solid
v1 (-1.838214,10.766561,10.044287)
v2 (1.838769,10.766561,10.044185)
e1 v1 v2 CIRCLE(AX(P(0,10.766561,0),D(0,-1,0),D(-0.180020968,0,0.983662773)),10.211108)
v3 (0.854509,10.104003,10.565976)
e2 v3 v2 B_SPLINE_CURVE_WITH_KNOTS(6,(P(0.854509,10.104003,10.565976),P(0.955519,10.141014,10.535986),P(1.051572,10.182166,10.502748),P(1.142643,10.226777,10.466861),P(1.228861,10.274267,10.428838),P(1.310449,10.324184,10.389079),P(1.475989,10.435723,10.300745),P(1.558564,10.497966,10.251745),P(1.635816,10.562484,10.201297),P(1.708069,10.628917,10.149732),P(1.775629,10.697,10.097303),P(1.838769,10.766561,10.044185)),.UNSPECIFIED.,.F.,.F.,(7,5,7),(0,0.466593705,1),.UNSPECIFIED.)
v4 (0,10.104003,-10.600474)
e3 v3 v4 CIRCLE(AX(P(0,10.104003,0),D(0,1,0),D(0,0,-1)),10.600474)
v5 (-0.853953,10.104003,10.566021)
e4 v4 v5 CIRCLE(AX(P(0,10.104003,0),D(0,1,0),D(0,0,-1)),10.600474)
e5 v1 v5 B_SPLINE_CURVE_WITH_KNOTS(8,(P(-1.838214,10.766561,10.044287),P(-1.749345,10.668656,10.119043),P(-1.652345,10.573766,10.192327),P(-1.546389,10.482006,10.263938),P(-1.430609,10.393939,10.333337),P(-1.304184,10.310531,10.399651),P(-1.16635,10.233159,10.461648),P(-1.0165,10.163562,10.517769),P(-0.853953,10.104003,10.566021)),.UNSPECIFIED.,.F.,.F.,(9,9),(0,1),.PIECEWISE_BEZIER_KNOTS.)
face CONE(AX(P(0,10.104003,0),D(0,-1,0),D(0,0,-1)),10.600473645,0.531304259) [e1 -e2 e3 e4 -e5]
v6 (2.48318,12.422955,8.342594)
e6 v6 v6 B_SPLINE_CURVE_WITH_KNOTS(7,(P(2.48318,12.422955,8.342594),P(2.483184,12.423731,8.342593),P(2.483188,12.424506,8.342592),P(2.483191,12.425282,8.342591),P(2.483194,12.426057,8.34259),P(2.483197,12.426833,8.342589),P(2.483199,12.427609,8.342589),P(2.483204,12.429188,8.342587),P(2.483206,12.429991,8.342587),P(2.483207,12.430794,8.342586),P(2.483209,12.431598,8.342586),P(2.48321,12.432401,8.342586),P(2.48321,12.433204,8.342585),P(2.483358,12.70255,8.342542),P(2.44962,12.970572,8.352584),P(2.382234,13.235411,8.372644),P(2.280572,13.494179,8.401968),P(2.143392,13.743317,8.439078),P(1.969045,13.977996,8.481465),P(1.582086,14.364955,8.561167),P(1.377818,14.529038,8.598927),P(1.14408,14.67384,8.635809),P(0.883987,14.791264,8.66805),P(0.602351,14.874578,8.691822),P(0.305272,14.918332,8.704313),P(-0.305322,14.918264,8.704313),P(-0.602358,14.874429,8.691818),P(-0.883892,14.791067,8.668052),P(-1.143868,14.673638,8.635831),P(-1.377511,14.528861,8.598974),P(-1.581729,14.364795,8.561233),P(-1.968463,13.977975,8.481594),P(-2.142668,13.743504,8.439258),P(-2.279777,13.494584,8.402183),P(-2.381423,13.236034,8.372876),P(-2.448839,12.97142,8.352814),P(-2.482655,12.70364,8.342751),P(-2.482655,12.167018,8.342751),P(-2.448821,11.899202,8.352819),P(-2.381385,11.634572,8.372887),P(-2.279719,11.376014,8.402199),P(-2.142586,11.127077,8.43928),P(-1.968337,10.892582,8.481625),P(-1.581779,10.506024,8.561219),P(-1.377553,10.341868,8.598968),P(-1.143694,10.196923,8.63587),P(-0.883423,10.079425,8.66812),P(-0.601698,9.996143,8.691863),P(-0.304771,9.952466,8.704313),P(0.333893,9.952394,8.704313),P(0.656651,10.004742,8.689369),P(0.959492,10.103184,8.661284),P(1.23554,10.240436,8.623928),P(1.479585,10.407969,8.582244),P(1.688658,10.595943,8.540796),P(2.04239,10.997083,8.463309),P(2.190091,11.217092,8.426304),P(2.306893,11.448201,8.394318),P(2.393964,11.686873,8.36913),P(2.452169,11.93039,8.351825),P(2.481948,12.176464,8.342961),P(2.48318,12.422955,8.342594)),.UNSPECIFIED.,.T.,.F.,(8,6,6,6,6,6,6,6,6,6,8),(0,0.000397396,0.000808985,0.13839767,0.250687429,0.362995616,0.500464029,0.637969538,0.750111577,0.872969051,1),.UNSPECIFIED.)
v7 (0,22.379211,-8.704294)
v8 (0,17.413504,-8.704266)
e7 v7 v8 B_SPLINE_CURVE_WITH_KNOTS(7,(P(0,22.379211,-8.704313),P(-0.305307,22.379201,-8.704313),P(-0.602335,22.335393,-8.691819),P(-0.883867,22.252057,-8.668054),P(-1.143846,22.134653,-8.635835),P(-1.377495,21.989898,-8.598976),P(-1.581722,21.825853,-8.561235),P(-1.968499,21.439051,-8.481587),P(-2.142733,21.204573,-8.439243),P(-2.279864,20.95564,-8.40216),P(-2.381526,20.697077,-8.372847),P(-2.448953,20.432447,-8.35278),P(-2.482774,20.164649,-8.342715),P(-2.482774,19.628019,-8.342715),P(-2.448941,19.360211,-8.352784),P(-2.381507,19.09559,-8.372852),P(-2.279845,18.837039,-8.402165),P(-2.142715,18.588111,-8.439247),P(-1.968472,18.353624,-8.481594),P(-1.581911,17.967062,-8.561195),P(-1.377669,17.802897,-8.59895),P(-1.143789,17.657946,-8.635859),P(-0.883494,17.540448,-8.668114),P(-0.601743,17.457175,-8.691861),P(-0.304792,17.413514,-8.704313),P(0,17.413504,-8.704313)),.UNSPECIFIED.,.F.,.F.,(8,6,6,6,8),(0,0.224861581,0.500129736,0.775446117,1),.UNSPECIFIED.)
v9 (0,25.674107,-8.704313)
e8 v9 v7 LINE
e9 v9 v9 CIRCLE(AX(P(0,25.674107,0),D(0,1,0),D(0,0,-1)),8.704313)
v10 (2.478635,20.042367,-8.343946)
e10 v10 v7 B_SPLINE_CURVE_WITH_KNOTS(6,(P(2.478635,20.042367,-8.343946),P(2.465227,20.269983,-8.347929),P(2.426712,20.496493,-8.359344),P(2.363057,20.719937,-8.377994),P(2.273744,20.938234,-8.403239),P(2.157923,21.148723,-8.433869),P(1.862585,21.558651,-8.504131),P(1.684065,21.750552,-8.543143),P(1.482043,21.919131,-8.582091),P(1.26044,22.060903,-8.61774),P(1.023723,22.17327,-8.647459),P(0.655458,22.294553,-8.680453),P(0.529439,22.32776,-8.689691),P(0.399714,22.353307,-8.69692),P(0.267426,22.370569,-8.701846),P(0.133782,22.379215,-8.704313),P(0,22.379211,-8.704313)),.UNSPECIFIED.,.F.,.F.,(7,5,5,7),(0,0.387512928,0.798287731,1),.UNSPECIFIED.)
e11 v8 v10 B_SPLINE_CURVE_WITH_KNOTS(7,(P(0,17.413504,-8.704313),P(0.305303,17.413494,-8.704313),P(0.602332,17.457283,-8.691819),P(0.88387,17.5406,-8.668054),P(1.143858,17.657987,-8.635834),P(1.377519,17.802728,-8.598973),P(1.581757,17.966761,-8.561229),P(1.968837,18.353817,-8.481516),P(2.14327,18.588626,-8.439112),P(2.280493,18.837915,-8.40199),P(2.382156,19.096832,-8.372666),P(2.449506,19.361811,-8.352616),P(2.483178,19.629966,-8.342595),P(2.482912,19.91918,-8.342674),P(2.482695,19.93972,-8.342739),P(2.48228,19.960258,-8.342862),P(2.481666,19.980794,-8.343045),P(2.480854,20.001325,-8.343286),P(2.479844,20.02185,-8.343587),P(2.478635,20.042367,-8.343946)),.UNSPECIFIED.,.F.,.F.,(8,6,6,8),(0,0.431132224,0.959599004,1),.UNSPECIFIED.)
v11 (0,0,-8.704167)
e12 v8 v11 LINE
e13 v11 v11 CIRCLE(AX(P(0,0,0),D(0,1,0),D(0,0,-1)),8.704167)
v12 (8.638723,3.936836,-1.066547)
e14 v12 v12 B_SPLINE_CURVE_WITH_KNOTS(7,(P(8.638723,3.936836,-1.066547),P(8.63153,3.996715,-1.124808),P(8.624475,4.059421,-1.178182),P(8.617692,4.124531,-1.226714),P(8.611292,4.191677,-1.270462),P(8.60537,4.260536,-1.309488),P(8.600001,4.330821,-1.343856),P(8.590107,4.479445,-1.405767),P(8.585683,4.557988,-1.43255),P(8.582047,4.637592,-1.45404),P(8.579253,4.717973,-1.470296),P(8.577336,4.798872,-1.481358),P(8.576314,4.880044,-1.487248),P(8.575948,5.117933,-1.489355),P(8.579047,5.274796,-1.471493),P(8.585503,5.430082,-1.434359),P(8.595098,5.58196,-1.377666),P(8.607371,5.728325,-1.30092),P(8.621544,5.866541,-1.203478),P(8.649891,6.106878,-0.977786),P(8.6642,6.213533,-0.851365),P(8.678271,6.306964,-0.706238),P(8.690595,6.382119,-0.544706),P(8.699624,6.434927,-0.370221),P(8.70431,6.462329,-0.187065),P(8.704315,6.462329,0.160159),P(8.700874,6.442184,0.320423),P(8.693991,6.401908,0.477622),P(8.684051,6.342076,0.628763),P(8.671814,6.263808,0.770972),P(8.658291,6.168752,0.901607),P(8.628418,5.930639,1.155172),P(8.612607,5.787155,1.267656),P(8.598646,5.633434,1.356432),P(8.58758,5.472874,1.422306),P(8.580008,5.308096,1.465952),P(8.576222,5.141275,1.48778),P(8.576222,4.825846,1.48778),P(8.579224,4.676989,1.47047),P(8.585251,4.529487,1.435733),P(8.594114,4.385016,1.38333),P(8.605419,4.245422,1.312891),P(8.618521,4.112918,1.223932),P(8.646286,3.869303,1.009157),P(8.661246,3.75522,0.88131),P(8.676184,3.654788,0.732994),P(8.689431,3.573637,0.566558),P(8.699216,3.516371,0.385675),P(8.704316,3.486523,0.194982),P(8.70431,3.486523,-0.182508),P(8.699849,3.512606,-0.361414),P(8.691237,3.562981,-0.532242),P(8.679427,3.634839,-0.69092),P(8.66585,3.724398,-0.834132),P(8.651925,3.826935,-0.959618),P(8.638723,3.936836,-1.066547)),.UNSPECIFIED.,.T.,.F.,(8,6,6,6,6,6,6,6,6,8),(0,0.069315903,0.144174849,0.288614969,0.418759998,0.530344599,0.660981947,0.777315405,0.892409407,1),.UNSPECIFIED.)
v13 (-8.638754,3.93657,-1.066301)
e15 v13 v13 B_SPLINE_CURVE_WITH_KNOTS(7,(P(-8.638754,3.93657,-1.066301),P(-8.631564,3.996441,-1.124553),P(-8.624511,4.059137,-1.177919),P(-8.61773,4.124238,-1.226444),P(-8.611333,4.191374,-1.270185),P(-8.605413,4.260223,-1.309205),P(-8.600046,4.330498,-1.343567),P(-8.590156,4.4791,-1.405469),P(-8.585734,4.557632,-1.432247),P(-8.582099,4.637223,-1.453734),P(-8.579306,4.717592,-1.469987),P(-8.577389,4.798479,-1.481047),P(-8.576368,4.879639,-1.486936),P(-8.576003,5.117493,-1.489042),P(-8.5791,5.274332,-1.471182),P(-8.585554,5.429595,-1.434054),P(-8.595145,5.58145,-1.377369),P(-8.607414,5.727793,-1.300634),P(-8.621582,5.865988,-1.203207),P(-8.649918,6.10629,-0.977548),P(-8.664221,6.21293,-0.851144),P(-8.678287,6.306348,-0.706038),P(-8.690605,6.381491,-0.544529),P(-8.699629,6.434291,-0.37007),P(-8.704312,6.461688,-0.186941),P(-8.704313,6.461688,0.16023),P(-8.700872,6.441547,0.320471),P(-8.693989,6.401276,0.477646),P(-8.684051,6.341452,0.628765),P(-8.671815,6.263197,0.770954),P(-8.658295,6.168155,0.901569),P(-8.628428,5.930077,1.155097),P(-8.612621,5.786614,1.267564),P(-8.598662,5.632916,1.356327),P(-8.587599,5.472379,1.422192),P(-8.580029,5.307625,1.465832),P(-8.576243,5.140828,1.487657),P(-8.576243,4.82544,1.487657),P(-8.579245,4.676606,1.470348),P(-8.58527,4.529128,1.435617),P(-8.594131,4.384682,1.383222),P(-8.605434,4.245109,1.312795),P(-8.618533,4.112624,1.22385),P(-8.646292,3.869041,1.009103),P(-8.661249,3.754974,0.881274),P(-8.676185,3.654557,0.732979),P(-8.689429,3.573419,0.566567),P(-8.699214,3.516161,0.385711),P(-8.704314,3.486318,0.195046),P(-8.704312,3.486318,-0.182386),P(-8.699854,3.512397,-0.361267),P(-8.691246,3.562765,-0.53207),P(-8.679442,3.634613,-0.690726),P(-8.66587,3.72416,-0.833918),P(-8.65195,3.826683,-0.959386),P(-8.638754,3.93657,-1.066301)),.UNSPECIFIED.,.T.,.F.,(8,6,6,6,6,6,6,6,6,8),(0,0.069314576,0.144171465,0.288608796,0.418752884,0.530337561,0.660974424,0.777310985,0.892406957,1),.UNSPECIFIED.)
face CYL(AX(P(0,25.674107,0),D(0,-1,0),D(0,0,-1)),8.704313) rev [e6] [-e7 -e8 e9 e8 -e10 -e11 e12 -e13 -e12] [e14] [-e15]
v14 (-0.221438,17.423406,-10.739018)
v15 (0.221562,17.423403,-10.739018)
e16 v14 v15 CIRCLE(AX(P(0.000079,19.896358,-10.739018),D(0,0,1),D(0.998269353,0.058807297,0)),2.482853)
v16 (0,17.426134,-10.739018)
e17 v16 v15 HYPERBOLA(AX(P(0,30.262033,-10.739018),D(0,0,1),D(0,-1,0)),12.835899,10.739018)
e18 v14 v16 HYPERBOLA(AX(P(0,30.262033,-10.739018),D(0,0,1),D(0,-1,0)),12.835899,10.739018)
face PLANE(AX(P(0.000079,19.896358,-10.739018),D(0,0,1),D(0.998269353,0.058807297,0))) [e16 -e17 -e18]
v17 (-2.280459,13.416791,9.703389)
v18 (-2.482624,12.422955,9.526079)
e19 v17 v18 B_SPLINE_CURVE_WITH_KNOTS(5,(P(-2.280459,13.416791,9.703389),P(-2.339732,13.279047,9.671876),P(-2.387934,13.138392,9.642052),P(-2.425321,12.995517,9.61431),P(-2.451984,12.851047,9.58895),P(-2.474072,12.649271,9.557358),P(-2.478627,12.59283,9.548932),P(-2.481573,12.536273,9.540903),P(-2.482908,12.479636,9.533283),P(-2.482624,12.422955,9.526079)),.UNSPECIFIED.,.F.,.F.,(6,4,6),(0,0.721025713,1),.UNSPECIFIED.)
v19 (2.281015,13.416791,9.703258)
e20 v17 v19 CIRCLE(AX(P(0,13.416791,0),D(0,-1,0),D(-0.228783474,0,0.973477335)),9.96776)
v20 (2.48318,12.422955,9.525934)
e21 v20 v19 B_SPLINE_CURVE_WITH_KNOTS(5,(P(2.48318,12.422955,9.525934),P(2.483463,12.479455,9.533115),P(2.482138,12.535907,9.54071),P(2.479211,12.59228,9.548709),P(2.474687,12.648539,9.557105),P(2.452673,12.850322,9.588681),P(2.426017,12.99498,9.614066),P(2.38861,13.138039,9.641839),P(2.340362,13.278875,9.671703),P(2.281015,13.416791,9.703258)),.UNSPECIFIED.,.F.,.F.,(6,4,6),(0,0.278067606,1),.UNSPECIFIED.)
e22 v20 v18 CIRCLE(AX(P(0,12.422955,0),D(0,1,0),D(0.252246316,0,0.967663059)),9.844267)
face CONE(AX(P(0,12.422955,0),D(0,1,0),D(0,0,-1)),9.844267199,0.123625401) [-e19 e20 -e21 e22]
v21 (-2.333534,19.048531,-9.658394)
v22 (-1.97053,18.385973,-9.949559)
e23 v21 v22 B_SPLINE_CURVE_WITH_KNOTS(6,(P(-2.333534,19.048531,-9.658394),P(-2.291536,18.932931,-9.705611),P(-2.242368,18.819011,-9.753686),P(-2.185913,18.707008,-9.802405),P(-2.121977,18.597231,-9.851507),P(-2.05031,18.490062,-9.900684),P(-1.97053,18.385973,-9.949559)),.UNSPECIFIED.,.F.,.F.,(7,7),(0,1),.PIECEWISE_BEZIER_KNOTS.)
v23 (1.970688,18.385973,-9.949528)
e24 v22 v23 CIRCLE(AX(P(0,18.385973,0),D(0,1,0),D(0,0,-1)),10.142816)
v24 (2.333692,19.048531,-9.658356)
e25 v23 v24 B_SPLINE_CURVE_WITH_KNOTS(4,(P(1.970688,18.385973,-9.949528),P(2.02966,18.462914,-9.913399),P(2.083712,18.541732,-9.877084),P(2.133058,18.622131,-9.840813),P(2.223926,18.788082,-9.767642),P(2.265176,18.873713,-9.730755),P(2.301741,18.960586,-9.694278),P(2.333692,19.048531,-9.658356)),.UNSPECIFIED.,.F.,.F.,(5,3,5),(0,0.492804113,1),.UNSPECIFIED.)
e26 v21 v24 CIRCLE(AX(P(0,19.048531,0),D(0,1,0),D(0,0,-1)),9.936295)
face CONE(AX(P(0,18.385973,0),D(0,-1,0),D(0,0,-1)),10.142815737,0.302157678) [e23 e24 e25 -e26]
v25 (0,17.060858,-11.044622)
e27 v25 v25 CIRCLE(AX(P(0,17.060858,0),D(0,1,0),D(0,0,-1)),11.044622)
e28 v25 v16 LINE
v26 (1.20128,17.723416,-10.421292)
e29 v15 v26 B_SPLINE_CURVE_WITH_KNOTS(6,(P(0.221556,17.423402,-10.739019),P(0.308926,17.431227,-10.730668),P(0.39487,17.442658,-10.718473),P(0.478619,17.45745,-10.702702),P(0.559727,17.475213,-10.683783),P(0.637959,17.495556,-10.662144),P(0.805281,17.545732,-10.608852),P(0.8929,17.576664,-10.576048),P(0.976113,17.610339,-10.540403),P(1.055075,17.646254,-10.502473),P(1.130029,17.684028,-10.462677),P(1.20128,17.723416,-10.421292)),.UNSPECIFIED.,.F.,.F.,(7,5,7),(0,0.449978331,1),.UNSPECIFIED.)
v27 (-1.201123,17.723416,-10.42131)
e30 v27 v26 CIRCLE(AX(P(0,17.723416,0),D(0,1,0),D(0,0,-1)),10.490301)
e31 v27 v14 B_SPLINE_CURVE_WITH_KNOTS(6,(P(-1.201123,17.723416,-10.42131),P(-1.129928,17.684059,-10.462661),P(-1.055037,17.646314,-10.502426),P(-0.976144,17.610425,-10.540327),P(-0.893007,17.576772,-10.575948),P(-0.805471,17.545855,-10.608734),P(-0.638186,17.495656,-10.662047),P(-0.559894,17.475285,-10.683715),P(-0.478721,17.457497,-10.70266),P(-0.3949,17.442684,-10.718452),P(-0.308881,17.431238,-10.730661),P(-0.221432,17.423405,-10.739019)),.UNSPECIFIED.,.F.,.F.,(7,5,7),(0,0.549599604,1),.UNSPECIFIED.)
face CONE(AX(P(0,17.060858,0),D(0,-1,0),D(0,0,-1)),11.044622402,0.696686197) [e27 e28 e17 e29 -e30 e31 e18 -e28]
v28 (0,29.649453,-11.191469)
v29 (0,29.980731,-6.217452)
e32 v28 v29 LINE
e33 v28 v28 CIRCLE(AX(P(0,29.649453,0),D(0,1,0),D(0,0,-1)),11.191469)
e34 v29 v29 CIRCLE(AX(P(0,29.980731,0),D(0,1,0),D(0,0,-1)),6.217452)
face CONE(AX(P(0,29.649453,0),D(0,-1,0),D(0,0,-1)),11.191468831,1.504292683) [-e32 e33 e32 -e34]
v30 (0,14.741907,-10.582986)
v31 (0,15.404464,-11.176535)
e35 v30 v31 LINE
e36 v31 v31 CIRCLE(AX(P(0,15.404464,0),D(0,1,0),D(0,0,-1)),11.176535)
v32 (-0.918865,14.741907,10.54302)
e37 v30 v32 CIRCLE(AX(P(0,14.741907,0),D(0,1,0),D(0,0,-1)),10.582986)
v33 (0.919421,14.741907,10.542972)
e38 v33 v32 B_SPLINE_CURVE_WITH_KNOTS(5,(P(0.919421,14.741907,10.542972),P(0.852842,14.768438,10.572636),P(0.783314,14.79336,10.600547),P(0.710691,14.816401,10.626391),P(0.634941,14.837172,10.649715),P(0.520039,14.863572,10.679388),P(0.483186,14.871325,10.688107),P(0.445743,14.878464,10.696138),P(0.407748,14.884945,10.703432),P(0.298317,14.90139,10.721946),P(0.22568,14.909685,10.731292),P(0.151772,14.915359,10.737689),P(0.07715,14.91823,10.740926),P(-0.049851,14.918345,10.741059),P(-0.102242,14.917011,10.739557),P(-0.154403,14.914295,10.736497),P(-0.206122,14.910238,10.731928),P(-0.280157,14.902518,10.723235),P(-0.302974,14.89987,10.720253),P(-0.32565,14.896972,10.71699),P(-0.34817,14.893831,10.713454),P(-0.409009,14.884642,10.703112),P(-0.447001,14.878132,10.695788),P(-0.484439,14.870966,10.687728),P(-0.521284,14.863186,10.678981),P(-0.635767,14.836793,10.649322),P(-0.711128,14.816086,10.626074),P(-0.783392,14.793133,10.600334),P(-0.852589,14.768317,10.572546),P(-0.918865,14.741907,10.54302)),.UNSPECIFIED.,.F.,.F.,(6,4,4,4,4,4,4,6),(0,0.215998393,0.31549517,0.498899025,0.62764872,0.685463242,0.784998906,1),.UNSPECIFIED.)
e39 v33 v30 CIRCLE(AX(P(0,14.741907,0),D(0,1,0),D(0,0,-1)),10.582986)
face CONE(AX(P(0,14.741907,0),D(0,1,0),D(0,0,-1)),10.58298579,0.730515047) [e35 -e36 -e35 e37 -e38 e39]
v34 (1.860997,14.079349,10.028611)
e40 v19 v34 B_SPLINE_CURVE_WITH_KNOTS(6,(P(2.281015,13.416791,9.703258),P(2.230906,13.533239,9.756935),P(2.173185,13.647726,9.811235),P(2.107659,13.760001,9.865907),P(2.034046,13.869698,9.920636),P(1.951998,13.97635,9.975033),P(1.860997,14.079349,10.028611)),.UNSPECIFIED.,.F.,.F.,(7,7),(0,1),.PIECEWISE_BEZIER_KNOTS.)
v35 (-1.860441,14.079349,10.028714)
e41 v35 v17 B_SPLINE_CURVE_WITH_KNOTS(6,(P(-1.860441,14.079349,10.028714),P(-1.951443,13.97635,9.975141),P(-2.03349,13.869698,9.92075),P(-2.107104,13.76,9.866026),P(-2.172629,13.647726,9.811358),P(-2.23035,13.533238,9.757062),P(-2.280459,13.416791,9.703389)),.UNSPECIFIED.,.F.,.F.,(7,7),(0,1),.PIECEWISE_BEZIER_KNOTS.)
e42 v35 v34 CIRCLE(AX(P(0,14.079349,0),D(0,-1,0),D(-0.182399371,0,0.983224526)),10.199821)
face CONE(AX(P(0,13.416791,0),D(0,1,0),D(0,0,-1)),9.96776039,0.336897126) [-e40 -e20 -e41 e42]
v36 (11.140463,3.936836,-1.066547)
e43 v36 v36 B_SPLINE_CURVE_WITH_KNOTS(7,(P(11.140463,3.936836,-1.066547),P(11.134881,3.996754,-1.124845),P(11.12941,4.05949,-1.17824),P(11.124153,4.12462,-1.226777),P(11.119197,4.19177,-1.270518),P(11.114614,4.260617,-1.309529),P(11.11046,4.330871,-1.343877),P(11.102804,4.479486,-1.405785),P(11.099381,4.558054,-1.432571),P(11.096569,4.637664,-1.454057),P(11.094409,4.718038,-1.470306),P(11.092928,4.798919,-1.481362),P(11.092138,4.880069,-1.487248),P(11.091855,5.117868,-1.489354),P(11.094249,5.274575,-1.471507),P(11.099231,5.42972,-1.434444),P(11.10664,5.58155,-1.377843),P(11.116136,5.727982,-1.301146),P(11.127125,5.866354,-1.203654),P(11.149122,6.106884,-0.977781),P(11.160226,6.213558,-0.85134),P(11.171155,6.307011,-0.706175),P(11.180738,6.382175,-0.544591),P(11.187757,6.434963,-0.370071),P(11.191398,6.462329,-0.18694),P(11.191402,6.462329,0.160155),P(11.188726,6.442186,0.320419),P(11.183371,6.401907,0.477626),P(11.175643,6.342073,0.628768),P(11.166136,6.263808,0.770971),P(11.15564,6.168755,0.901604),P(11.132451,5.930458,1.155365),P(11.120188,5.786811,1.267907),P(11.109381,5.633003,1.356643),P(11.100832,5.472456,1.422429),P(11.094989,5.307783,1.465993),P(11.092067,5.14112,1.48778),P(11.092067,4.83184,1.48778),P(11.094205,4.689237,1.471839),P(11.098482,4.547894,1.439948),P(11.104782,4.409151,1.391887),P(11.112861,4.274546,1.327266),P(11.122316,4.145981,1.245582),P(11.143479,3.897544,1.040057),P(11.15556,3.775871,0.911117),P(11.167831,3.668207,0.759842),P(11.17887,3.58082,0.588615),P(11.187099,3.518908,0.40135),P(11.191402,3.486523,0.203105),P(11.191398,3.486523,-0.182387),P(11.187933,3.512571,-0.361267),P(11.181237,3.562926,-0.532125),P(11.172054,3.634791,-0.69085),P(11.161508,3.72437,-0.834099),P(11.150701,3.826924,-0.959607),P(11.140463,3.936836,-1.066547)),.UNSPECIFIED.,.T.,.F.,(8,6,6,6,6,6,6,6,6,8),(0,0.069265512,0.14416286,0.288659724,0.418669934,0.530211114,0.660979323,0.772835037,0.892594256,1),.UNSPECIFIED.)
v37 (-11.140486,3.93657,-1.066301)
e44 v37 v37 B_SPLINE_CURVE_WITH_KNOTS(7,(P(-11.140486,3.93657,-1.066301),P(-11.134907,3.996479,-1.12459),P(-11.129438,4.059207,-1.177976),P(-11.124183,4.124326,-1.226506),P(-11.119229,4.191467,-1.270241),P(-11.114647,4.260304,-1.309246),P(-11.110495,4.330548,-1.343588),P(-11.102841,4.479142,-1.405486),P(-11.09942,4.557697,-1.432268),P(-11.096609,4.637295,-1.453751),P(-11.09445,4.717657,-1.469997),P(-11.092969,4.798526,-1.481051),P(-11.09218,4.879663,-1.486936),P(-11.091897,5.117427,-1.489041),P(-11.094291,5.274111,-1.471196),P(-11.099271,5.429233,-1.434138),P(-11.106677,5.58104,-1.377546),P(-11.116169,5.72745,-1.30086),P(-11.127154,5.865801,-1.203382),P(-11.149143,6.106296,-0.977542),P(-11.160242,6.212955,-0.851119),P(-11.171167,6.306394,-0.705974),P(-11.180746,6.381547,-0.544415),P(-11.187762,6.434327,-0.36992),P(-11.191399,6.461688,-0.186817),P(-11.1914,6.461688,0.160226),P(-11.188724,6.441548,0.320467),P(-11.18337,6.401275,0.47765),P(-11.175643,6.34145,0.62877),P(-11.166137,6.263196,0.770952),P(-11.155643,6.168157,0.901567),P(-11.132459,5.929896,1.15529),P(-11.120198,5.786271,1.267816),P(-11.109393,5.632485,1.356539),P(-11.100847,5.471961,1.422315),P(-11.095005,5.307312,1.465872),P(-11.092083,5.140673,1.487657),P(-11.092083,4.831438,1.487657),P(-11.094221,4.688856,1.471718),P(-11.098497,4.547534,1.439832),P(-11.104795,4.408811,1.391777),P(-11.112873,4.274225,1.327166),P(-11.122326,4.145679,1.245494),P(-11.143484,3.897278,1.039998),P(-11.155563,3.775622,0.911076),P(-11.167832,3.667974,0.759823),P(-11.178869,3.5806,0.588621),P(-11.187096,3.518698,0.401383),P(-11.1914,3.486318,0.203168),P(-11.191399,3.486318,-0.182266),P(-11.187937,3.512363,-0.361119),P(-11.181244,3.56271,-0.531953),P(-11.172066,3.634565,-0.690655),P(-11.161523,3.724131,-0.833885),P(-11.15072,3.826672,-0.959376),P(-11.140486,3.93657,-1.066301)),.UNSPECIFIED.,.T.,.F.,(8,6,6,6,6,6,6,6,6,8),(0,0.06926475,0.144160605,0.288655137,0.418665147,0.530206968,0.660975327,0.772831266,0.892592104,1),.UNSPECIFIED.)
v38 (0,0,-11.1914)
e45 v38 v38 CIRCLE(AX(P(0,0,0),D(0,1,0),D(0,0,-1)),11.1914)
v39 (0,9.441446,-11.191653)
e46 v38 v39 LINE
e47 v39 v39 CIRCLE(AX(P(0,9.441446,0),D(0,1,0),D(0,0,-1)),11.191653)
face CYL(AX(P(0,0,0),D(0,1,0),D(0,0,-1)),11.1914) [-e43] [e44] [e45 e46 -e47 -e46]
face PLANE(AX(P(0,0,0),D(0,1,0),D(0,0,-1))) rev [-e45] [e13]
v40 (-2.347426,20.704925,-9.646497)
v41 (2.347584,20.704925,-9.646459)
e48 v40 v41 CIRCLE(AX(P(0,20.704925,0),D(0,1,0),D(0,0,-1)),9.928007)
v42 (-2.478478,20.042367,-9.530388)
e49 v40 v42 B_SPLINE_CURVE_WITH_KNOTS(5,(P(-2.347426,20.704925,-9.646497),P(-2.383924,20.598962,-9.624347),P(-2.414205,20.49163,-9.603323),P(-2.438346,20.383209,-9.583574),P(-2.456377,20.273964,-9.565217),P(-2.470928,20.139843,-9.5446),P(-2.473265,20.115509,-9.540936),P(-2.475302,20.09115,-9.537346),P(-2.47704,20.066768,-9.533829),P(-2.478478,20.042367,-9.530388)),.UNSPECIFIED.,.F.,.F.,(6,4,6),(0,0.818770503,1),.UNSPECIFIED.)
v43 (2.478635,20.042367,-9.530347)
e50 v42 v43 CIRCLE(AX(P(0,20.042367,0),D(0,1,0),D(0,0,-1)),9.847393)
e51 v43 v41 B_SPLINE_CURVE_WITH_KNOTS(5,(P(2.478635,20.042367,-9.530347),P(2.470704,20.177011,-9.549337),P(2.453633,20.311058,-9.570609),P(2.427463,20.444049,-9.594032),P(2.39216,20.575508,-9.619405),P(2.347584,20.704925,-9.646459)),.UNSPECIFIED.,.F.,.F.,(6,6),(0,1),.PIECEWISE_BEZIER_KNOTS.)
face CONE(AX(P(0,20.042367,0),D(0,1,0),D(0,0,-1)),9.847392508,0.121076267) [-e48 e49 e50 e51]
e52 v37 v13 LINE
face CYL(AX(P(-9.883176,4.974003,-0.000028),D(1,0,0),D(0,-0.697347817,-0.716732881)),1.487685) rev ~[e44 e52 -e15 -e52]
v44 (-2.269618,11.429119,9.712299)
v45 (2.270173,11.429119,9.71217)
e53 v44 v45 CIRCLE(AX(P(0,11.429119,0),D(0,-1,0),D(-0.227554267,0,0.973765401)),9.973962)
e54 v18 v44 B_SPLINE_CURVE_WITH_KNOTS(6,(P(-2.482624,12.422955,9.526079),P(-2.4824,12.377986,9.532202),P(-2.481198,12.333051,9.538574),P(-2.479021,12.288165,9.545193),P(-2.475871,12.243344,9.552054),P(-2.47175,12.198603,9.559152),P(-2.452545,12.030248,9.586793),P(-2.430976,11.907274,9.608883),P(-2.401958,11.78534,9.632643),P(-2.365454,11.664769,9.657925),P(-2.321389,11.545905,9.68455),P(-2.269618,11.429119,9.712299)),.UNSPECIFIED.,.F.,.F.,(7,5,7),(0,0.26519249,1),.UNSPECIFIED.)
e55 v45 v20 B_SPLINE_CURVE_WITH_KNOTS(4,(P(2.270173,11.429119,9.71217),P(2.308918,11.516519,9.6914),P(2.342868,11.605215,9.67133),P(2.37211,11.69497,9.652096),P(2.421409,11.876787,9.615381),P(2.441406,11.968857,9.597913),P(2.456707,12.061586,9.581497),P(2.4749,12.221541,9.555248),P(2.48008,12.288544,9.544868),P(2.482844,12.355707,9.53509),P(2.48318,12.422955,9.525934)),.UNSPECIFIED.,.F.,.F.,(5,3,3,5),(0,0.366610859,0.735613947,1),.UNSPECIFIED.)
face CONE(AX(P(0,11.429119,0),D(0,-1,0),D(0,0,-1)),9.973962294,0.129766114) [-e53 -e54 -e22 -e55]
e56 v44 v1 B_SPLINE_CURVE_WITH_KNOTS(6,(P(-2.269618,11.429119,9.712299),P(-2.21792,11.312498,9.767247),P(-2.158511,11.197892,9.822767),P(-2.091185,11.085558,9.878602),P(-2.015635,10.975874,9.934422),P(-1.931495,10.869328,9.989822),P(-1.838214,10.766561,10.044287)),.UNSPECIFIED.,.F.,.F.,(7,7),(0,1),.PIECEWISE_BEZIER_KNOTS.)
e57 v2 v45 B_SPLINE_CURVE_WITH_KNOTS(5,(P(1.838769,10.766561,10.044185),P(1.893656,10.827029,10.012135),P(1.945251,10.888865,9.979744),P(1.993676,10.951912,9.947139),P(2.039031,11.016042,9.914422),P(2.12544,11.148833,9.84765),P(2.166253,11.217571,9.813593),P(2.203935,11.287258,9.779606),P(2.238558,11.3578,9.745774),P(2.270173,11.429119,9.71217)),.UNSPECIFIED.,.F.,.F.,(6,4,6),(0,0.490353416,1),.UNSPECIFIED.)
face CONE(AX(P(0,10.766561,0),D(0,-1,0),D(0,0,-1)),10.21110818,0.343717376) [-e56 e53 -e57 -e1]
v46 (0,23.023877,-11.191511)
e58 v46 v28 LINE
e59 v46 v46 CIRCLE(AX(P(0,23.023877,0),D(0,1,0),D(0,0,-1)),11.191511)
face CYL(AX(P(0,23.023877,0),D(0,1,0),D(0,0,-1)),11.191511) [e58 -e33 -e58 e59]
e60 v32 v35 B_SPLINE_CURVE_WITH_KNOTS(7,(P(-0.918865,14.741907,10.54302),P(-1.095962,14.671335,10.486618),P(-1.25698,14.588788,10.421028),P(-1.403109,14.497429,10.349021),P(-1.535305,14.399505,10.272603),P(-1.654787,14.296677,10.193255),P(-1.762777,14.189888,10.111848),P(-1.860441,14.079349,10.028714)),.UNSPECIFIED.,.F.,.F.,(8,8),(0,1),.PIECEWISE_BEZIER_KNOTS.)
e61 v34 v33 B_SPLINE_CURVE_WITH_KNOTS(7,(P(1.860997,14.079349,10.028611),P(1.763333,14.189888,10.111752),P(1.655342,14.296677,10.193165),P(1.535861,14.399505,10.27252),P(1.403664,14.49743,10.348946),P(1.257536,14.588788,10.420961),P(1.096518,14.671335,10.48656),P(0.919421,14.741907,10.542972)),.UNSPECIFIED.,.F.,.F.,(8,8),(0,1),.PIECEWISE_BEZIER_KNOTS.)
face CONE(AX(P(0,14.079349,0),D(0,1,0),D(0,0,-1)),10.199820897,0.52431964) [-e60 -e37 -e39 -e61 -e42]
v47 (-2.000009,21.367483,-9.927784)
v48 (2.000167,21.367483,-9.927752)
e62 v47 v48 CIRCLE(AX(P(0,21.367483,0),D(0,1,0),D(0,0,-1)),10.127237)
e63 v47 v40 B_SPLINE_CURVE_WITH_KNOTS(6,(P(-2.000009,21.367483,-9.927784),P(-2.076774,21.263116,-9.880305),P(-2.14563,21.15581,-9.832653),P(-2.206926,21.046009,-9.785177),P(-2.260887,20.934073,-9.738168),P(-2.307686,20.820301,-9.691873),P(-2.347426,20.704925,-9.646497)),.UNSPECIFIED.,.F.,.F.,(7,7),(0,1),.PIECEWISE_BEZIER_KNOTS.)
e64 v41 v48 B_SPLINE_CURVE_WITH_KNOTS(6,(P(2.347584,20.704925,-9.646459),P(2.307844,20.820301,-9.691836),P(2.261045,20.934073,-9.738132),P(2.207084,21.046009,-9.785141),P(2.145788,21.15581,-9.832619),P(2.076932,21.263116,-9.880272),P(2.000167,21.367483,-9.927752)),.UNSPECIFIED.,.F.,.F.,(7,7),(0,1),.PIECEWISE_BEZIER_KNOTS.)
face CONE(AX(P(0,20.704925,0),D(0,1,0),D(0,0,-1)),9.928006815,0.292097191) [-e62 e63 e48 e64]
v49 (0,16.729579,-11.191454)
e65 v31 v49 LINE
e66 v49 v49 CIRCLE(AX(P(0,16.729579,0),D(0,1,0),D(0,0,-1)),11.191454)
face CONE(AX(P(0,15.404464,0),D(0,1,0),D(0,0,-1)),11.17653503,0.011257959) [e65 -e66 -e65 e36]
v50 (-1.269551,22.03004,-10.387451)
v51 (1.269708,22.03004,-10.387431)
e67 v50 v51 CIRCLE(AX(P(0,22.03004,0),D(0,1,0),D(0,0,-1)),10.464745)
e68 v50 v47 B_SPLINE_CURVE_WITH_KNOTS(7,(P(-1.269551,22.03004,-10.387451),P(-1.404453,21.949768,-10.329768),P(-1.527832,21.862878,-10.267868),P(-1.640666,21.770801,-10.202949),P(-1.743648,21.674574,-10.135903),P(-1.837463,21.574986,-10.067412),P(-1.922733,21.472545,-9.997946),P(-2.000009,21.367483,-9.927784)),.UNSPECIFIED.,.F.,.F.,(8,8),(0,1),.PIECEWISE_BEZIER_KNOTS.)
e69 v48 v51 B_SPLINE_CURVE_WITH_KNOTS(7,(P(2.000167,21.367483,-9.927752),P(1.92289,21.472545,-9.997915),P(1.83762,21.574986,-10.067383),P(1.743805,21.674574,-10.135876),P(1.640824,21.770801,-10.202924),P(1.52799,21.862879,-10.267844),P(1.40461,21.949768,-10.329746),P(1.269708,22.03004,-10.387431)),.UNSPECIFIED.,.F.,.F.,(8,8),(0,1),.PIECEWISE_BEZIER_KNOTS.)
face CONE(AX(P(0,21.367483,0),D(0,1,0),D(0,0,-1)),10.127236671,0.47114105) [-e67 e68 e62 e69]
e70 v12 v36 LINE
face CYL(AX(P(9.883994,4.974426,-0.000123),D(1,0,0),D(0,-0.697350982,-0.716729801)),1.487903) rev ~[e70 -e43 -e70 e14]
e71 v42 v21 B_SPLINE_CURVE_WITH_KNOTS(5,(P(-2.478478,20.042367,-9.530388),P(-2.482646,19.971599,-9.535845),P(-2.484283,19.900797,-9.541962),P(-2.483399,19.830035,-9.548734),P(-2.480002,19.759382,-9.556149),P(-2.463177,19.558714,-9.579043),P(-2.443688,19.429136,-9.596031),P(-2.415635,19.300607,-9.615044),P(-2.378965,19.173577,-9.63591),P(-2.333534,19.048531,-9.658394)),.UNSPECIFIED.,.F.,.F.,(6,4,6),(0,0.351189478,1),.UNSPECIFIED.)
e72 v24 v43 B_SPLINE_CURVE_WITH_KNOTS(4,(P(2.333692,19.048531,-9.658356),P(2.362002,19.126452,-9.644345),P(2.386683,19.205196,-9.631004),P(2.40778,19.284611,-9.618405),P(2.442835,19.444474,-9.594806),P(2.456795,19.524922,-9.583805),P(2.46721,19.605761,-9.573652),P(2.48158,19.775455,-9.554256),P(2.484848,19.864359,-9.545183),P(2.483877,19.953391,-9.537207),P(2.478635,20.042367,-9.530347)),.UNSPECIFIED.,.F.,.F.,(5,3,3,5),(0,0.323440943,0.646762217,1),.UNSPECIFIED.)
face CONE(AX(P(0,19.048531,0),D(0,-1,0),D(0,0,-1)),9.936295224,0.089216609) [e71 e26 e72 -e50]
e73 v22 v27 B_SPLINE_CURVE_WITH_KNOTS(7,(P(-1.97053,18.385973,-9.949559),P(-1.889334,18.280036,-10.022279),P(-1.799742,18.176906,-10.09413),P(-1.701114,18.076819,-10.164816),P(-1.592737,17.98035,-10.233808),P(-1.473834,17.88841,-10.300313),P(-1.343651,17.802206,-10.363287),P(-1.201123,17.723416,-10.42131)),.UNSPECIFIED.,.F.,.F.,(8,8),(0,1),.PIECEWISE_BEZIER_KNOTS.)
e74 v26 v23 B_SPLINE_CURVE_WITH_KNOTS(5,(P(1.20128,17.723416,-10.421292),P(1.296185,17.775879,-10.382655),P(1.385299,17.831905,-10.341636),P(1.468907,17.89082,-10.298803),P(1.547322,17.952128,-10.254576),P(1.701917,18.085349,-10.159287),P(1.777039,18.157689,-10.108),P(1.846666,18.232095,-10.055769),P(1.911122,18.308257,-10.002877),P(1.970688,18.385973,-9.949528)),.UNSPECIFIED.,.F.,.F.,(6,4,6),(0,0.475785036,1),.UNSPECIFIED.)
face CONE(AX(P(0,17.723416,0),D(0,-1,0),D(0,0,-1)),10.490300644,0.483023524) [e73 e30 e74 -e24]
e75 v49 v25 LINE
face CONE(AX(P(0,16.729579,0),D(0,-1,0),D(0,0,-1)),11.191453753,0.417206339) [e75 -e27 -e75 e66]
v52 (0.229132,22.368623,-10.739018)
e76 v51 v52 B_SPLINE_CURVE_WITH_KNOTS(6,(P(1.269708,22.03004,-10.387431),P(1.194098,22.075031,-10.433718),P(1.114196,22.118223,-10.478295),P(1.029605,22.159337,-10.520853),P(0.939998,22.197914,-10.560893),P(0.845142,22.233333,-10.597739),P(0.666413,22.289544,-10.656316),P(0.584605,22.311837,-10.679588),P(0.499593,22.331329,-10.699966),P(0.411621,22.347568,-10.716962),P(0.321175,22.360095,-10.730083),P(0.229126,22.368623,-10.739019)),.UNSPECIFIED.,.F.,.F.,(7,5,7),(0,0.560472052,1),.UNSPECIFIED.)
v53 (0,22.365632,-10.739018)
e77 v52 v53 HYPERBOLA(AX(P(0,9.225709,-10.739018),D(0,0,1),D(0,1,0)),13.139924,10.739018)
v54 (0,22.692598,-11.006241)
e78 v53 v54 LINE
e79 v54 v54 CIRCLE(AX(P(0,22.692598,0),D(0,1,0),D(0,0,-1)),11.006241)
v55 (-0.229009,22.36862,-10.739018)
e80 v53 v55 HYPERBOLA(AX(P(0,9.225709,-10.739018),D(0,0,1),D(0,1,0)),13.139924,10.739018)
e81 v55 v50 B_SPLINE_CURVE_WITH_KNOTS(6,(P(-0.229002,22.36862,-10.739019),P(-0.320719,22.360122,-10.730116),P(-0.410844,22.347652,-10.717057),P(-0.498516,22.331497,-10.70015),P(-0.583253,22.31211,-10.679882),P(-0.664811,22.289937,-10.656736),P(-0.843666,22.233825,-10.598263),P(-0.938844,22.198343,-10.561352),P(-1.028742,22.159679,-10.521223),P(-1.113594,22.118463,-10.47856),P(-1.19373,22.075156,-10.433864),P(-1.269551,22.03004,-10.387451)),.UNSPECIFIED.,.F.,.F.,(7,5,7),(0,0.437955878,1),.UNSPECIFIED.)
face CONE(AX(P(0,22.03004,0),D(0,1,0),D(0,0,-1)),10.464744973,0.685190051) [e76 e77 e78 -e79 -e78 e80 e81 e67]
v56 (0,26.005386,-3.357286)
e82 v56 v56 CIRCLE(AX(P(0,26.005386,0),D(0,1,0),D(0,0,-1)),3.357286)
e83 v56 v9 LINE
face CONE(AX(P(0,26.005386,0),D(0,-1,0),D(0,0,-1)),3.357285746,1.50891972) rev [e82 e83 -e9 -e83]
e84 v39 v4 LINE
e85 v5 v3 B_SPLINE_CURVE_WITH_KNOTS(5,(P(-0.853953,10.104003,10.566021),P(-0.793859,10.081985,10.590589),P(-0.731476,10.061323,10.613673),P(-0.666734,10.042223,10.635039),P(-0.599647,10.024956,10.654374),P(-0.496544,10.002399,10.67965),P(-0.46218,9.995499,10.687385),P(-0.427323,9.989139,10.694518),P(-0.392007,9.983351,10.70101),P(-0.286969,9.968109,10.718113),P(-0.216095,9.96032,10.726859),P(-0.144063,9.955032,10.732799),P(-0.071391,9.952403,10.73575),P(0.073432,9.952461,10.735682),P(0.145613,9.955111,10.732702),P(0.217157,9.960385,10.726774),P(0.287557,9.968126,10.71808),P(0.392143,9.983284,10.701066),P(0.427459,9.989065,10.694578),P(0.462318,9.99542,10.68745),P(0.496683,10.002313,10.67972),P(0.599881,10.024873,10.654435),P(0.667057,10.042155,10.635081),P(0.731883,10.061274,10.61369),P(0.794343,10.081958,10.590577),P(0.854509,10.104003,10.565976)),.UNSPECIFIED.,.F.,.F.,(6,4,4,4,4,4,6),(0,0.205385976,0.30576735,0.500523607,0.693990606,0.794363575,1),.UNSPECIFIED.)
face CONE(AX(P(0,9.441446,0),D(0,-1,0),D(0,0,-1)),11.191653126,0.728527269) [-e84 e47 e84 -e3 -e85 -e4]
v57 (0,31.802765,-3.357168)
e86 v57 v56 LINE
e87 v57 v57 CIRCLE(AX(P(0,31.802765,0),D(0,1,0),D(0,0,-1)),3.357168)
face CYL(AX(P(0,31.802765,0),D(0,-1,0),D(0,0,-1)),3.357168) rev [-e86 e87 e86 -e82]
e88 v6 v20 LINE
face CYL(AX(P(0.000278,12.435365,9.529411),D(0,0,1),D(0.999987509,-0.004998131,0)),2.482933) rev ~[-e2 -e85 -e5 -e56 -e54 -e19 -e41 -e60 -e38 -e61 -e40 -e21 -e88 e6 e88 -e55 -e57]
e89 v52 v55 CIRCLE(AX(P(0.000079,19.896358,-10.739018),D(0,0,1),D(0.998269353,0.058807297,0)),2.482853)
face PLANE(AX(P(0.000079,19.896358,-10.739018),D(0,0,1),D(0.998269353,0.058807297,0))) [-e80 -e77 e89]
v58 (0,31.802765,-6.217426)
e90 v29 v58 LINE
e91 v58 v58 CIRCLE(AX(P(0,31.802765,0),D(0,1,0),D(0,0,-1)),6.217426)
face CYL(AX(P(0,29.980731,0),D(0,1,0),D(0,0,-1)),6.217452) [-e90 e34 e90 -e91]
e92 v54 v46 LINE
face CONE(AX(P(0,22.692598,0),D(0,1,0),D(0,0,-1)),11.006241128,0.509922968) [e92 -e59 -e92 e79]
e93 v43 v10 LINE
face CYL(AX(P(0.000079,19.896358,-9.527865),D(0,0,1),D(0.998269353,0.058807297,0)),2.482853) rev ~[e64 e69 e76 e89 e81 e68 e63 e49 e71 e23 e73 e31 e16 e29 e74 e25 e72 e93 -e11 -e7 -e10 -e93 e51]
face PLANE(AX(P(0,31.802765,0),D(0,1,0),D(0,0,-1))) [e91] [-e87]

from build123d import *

# Parameters (mm, degrees)
CADVIEW_START                   = -9.527864724
CADVIEW_RADIAL_HOLE_PROFILE_1_R = 2.48285337
CADVIEW_RADIAL_HOLE_1_DEPTH     = 1.211153441
CADVIEW_START_2                 = 9.883993552
CADVIEW_RADIAL_HOLE_PROFILE_3_R = 1.487902792
CADVIEW_RADIAL_HOLE_3_DEPTH     = 1.33410702
CADVIEW_START_3                 = 9.529411148
CADVIEW_RADIAL_HOLE_PROFILE_2_R = 2.482933282
CADVIEW_RADIAL_HOLE_2_DEPTH     = 1.211645438
CADVIEW_START_4                 = -9.883175541
CADVIEW_RADIAL_HOLE_PROFILE_4_R = 1.487684902
CADVIEW_RADIAL_HOLE_4_DEPTH     = 1.33397788


with BuildPart() as part:
    # CADView Revolve Profile → CADView Core Revolve (revolve)
    with BuildSketch(Plane.XY, mode=Mode.PRIVATE) as cadview_core_revolve_sk:
        Polygon((11.191399791, 0), (11.191653126, 9.441445801), (10.600473645, 10.104003401), (10.21110818, 10.766561001), (9.973962294, 11.429118601), (9.844267199, 12.422955001), (9.96776039, 13.416791401), (10.199820897, 14.079349001), (10.58298579, 14.741906601), (11.17653503, 15.404464201), (11.191453753, 16.729579401), (11.044622402, 17.060858201), (10.490300644, 17.723415801), (10.142815737, 18.385973401), (9.936295224, 19.048531001), (9.847392508, 20.042367401), (9.928006815, 20.704925001), (10.127236671, 21.367482602), (10.464744973, 22.030040202), (11.006241128, 22.692597802), (11.19151131, 23.023876602), (11.191468831, 29.649452602), (6.217451578, 29.980731402), (6.217426324, 31.802764802), (3.357168025, 31.802764802), (3.357285746, 26.005385802), (8.704312973, 25.674107002), (8.704166835, 0), align=None)
    revolve(cadview_core_revolve_sk.sketch.rotate(Axis((0, 0, 0), (0, 1, 0)), 90), axis=Axis((0, 0, 0), (0, 1, 0)))

    # CADView Radial Hole Profile 1 → CADView Radial Hole 1 (cut, symmetric)
    with BuildSketch(Plane.XY.offset(CADVIEW_START)):
        with Locations(Location((7.8903e-05, 19.896357505, 0), (0, 0, 3.371355006))):
            Circle(CADVIEW_RADIAL_HOLE_PROFILE_1_R)
    extrude(amount=CADVIEW_RADIAL_HOLE_1_DEPTH, both=True, mode=Mode.SUBTRACT)

    # CADView Radial Hole Profile 3 → CADView Radial Hole 3 (cut, symmetric)
    with BuildSketch(Plane(origin=(0, 0, 0), x_dir=(0, 0, -1), z_dir=(1, 0, 0)).offset(CADVIEW_START_2)):
        with Locations(Location((0.000122905, 4.974426113, 0), (0, 0, 315.785142597))):
            Circle(CADVIEW_RADIAL_HOLE_PROFILE_3_R)
    extrude(amount=CADVIEW_RADIAL_HOLE_3_DEPTH, both=True, mode=Mode.SUBTRACT)

    # CADView Radial Hole Profile 2 → CADView Radial Hole 2 (cut, symmetric)
    with BuildSketch(Plane.XY.offset(CADVIEW_START_3)):
        with Locations(Location((0.000277866, 12.43536503, 0), (0, 0, 359.713626975))):
            Circle(CADVIEW_RADIAL_HOLE_PROFILE_2_R)
    extrude(amount=CADVIEW_RADIAL_HOLE_2_DEPTH, both=True, mode=Mode.SUBTRACT)

    # CADView Radial Hole Profile 4 → CADView Radial Hole 4 (cut, symmetric)
    with BuildSketch(Plane(origin=(0, 0, 0), x_dir=(0, 0, -1), z_dir=(1, 0, 0)).offset(CADVIEW_START_4)):
        with Locations(Location((2.8248e-05, 4.974003332, 0), (0, 0, 315.785395623))):
            Circle(CADVIEW_RADIAL_HOLE_PROFILE_4_R)
    extrude(amount=CADVIEW_RADIAL_HOLE_4_DEPTH, both=True, mode=Mode.SUBTRACT)


solid = part.part
